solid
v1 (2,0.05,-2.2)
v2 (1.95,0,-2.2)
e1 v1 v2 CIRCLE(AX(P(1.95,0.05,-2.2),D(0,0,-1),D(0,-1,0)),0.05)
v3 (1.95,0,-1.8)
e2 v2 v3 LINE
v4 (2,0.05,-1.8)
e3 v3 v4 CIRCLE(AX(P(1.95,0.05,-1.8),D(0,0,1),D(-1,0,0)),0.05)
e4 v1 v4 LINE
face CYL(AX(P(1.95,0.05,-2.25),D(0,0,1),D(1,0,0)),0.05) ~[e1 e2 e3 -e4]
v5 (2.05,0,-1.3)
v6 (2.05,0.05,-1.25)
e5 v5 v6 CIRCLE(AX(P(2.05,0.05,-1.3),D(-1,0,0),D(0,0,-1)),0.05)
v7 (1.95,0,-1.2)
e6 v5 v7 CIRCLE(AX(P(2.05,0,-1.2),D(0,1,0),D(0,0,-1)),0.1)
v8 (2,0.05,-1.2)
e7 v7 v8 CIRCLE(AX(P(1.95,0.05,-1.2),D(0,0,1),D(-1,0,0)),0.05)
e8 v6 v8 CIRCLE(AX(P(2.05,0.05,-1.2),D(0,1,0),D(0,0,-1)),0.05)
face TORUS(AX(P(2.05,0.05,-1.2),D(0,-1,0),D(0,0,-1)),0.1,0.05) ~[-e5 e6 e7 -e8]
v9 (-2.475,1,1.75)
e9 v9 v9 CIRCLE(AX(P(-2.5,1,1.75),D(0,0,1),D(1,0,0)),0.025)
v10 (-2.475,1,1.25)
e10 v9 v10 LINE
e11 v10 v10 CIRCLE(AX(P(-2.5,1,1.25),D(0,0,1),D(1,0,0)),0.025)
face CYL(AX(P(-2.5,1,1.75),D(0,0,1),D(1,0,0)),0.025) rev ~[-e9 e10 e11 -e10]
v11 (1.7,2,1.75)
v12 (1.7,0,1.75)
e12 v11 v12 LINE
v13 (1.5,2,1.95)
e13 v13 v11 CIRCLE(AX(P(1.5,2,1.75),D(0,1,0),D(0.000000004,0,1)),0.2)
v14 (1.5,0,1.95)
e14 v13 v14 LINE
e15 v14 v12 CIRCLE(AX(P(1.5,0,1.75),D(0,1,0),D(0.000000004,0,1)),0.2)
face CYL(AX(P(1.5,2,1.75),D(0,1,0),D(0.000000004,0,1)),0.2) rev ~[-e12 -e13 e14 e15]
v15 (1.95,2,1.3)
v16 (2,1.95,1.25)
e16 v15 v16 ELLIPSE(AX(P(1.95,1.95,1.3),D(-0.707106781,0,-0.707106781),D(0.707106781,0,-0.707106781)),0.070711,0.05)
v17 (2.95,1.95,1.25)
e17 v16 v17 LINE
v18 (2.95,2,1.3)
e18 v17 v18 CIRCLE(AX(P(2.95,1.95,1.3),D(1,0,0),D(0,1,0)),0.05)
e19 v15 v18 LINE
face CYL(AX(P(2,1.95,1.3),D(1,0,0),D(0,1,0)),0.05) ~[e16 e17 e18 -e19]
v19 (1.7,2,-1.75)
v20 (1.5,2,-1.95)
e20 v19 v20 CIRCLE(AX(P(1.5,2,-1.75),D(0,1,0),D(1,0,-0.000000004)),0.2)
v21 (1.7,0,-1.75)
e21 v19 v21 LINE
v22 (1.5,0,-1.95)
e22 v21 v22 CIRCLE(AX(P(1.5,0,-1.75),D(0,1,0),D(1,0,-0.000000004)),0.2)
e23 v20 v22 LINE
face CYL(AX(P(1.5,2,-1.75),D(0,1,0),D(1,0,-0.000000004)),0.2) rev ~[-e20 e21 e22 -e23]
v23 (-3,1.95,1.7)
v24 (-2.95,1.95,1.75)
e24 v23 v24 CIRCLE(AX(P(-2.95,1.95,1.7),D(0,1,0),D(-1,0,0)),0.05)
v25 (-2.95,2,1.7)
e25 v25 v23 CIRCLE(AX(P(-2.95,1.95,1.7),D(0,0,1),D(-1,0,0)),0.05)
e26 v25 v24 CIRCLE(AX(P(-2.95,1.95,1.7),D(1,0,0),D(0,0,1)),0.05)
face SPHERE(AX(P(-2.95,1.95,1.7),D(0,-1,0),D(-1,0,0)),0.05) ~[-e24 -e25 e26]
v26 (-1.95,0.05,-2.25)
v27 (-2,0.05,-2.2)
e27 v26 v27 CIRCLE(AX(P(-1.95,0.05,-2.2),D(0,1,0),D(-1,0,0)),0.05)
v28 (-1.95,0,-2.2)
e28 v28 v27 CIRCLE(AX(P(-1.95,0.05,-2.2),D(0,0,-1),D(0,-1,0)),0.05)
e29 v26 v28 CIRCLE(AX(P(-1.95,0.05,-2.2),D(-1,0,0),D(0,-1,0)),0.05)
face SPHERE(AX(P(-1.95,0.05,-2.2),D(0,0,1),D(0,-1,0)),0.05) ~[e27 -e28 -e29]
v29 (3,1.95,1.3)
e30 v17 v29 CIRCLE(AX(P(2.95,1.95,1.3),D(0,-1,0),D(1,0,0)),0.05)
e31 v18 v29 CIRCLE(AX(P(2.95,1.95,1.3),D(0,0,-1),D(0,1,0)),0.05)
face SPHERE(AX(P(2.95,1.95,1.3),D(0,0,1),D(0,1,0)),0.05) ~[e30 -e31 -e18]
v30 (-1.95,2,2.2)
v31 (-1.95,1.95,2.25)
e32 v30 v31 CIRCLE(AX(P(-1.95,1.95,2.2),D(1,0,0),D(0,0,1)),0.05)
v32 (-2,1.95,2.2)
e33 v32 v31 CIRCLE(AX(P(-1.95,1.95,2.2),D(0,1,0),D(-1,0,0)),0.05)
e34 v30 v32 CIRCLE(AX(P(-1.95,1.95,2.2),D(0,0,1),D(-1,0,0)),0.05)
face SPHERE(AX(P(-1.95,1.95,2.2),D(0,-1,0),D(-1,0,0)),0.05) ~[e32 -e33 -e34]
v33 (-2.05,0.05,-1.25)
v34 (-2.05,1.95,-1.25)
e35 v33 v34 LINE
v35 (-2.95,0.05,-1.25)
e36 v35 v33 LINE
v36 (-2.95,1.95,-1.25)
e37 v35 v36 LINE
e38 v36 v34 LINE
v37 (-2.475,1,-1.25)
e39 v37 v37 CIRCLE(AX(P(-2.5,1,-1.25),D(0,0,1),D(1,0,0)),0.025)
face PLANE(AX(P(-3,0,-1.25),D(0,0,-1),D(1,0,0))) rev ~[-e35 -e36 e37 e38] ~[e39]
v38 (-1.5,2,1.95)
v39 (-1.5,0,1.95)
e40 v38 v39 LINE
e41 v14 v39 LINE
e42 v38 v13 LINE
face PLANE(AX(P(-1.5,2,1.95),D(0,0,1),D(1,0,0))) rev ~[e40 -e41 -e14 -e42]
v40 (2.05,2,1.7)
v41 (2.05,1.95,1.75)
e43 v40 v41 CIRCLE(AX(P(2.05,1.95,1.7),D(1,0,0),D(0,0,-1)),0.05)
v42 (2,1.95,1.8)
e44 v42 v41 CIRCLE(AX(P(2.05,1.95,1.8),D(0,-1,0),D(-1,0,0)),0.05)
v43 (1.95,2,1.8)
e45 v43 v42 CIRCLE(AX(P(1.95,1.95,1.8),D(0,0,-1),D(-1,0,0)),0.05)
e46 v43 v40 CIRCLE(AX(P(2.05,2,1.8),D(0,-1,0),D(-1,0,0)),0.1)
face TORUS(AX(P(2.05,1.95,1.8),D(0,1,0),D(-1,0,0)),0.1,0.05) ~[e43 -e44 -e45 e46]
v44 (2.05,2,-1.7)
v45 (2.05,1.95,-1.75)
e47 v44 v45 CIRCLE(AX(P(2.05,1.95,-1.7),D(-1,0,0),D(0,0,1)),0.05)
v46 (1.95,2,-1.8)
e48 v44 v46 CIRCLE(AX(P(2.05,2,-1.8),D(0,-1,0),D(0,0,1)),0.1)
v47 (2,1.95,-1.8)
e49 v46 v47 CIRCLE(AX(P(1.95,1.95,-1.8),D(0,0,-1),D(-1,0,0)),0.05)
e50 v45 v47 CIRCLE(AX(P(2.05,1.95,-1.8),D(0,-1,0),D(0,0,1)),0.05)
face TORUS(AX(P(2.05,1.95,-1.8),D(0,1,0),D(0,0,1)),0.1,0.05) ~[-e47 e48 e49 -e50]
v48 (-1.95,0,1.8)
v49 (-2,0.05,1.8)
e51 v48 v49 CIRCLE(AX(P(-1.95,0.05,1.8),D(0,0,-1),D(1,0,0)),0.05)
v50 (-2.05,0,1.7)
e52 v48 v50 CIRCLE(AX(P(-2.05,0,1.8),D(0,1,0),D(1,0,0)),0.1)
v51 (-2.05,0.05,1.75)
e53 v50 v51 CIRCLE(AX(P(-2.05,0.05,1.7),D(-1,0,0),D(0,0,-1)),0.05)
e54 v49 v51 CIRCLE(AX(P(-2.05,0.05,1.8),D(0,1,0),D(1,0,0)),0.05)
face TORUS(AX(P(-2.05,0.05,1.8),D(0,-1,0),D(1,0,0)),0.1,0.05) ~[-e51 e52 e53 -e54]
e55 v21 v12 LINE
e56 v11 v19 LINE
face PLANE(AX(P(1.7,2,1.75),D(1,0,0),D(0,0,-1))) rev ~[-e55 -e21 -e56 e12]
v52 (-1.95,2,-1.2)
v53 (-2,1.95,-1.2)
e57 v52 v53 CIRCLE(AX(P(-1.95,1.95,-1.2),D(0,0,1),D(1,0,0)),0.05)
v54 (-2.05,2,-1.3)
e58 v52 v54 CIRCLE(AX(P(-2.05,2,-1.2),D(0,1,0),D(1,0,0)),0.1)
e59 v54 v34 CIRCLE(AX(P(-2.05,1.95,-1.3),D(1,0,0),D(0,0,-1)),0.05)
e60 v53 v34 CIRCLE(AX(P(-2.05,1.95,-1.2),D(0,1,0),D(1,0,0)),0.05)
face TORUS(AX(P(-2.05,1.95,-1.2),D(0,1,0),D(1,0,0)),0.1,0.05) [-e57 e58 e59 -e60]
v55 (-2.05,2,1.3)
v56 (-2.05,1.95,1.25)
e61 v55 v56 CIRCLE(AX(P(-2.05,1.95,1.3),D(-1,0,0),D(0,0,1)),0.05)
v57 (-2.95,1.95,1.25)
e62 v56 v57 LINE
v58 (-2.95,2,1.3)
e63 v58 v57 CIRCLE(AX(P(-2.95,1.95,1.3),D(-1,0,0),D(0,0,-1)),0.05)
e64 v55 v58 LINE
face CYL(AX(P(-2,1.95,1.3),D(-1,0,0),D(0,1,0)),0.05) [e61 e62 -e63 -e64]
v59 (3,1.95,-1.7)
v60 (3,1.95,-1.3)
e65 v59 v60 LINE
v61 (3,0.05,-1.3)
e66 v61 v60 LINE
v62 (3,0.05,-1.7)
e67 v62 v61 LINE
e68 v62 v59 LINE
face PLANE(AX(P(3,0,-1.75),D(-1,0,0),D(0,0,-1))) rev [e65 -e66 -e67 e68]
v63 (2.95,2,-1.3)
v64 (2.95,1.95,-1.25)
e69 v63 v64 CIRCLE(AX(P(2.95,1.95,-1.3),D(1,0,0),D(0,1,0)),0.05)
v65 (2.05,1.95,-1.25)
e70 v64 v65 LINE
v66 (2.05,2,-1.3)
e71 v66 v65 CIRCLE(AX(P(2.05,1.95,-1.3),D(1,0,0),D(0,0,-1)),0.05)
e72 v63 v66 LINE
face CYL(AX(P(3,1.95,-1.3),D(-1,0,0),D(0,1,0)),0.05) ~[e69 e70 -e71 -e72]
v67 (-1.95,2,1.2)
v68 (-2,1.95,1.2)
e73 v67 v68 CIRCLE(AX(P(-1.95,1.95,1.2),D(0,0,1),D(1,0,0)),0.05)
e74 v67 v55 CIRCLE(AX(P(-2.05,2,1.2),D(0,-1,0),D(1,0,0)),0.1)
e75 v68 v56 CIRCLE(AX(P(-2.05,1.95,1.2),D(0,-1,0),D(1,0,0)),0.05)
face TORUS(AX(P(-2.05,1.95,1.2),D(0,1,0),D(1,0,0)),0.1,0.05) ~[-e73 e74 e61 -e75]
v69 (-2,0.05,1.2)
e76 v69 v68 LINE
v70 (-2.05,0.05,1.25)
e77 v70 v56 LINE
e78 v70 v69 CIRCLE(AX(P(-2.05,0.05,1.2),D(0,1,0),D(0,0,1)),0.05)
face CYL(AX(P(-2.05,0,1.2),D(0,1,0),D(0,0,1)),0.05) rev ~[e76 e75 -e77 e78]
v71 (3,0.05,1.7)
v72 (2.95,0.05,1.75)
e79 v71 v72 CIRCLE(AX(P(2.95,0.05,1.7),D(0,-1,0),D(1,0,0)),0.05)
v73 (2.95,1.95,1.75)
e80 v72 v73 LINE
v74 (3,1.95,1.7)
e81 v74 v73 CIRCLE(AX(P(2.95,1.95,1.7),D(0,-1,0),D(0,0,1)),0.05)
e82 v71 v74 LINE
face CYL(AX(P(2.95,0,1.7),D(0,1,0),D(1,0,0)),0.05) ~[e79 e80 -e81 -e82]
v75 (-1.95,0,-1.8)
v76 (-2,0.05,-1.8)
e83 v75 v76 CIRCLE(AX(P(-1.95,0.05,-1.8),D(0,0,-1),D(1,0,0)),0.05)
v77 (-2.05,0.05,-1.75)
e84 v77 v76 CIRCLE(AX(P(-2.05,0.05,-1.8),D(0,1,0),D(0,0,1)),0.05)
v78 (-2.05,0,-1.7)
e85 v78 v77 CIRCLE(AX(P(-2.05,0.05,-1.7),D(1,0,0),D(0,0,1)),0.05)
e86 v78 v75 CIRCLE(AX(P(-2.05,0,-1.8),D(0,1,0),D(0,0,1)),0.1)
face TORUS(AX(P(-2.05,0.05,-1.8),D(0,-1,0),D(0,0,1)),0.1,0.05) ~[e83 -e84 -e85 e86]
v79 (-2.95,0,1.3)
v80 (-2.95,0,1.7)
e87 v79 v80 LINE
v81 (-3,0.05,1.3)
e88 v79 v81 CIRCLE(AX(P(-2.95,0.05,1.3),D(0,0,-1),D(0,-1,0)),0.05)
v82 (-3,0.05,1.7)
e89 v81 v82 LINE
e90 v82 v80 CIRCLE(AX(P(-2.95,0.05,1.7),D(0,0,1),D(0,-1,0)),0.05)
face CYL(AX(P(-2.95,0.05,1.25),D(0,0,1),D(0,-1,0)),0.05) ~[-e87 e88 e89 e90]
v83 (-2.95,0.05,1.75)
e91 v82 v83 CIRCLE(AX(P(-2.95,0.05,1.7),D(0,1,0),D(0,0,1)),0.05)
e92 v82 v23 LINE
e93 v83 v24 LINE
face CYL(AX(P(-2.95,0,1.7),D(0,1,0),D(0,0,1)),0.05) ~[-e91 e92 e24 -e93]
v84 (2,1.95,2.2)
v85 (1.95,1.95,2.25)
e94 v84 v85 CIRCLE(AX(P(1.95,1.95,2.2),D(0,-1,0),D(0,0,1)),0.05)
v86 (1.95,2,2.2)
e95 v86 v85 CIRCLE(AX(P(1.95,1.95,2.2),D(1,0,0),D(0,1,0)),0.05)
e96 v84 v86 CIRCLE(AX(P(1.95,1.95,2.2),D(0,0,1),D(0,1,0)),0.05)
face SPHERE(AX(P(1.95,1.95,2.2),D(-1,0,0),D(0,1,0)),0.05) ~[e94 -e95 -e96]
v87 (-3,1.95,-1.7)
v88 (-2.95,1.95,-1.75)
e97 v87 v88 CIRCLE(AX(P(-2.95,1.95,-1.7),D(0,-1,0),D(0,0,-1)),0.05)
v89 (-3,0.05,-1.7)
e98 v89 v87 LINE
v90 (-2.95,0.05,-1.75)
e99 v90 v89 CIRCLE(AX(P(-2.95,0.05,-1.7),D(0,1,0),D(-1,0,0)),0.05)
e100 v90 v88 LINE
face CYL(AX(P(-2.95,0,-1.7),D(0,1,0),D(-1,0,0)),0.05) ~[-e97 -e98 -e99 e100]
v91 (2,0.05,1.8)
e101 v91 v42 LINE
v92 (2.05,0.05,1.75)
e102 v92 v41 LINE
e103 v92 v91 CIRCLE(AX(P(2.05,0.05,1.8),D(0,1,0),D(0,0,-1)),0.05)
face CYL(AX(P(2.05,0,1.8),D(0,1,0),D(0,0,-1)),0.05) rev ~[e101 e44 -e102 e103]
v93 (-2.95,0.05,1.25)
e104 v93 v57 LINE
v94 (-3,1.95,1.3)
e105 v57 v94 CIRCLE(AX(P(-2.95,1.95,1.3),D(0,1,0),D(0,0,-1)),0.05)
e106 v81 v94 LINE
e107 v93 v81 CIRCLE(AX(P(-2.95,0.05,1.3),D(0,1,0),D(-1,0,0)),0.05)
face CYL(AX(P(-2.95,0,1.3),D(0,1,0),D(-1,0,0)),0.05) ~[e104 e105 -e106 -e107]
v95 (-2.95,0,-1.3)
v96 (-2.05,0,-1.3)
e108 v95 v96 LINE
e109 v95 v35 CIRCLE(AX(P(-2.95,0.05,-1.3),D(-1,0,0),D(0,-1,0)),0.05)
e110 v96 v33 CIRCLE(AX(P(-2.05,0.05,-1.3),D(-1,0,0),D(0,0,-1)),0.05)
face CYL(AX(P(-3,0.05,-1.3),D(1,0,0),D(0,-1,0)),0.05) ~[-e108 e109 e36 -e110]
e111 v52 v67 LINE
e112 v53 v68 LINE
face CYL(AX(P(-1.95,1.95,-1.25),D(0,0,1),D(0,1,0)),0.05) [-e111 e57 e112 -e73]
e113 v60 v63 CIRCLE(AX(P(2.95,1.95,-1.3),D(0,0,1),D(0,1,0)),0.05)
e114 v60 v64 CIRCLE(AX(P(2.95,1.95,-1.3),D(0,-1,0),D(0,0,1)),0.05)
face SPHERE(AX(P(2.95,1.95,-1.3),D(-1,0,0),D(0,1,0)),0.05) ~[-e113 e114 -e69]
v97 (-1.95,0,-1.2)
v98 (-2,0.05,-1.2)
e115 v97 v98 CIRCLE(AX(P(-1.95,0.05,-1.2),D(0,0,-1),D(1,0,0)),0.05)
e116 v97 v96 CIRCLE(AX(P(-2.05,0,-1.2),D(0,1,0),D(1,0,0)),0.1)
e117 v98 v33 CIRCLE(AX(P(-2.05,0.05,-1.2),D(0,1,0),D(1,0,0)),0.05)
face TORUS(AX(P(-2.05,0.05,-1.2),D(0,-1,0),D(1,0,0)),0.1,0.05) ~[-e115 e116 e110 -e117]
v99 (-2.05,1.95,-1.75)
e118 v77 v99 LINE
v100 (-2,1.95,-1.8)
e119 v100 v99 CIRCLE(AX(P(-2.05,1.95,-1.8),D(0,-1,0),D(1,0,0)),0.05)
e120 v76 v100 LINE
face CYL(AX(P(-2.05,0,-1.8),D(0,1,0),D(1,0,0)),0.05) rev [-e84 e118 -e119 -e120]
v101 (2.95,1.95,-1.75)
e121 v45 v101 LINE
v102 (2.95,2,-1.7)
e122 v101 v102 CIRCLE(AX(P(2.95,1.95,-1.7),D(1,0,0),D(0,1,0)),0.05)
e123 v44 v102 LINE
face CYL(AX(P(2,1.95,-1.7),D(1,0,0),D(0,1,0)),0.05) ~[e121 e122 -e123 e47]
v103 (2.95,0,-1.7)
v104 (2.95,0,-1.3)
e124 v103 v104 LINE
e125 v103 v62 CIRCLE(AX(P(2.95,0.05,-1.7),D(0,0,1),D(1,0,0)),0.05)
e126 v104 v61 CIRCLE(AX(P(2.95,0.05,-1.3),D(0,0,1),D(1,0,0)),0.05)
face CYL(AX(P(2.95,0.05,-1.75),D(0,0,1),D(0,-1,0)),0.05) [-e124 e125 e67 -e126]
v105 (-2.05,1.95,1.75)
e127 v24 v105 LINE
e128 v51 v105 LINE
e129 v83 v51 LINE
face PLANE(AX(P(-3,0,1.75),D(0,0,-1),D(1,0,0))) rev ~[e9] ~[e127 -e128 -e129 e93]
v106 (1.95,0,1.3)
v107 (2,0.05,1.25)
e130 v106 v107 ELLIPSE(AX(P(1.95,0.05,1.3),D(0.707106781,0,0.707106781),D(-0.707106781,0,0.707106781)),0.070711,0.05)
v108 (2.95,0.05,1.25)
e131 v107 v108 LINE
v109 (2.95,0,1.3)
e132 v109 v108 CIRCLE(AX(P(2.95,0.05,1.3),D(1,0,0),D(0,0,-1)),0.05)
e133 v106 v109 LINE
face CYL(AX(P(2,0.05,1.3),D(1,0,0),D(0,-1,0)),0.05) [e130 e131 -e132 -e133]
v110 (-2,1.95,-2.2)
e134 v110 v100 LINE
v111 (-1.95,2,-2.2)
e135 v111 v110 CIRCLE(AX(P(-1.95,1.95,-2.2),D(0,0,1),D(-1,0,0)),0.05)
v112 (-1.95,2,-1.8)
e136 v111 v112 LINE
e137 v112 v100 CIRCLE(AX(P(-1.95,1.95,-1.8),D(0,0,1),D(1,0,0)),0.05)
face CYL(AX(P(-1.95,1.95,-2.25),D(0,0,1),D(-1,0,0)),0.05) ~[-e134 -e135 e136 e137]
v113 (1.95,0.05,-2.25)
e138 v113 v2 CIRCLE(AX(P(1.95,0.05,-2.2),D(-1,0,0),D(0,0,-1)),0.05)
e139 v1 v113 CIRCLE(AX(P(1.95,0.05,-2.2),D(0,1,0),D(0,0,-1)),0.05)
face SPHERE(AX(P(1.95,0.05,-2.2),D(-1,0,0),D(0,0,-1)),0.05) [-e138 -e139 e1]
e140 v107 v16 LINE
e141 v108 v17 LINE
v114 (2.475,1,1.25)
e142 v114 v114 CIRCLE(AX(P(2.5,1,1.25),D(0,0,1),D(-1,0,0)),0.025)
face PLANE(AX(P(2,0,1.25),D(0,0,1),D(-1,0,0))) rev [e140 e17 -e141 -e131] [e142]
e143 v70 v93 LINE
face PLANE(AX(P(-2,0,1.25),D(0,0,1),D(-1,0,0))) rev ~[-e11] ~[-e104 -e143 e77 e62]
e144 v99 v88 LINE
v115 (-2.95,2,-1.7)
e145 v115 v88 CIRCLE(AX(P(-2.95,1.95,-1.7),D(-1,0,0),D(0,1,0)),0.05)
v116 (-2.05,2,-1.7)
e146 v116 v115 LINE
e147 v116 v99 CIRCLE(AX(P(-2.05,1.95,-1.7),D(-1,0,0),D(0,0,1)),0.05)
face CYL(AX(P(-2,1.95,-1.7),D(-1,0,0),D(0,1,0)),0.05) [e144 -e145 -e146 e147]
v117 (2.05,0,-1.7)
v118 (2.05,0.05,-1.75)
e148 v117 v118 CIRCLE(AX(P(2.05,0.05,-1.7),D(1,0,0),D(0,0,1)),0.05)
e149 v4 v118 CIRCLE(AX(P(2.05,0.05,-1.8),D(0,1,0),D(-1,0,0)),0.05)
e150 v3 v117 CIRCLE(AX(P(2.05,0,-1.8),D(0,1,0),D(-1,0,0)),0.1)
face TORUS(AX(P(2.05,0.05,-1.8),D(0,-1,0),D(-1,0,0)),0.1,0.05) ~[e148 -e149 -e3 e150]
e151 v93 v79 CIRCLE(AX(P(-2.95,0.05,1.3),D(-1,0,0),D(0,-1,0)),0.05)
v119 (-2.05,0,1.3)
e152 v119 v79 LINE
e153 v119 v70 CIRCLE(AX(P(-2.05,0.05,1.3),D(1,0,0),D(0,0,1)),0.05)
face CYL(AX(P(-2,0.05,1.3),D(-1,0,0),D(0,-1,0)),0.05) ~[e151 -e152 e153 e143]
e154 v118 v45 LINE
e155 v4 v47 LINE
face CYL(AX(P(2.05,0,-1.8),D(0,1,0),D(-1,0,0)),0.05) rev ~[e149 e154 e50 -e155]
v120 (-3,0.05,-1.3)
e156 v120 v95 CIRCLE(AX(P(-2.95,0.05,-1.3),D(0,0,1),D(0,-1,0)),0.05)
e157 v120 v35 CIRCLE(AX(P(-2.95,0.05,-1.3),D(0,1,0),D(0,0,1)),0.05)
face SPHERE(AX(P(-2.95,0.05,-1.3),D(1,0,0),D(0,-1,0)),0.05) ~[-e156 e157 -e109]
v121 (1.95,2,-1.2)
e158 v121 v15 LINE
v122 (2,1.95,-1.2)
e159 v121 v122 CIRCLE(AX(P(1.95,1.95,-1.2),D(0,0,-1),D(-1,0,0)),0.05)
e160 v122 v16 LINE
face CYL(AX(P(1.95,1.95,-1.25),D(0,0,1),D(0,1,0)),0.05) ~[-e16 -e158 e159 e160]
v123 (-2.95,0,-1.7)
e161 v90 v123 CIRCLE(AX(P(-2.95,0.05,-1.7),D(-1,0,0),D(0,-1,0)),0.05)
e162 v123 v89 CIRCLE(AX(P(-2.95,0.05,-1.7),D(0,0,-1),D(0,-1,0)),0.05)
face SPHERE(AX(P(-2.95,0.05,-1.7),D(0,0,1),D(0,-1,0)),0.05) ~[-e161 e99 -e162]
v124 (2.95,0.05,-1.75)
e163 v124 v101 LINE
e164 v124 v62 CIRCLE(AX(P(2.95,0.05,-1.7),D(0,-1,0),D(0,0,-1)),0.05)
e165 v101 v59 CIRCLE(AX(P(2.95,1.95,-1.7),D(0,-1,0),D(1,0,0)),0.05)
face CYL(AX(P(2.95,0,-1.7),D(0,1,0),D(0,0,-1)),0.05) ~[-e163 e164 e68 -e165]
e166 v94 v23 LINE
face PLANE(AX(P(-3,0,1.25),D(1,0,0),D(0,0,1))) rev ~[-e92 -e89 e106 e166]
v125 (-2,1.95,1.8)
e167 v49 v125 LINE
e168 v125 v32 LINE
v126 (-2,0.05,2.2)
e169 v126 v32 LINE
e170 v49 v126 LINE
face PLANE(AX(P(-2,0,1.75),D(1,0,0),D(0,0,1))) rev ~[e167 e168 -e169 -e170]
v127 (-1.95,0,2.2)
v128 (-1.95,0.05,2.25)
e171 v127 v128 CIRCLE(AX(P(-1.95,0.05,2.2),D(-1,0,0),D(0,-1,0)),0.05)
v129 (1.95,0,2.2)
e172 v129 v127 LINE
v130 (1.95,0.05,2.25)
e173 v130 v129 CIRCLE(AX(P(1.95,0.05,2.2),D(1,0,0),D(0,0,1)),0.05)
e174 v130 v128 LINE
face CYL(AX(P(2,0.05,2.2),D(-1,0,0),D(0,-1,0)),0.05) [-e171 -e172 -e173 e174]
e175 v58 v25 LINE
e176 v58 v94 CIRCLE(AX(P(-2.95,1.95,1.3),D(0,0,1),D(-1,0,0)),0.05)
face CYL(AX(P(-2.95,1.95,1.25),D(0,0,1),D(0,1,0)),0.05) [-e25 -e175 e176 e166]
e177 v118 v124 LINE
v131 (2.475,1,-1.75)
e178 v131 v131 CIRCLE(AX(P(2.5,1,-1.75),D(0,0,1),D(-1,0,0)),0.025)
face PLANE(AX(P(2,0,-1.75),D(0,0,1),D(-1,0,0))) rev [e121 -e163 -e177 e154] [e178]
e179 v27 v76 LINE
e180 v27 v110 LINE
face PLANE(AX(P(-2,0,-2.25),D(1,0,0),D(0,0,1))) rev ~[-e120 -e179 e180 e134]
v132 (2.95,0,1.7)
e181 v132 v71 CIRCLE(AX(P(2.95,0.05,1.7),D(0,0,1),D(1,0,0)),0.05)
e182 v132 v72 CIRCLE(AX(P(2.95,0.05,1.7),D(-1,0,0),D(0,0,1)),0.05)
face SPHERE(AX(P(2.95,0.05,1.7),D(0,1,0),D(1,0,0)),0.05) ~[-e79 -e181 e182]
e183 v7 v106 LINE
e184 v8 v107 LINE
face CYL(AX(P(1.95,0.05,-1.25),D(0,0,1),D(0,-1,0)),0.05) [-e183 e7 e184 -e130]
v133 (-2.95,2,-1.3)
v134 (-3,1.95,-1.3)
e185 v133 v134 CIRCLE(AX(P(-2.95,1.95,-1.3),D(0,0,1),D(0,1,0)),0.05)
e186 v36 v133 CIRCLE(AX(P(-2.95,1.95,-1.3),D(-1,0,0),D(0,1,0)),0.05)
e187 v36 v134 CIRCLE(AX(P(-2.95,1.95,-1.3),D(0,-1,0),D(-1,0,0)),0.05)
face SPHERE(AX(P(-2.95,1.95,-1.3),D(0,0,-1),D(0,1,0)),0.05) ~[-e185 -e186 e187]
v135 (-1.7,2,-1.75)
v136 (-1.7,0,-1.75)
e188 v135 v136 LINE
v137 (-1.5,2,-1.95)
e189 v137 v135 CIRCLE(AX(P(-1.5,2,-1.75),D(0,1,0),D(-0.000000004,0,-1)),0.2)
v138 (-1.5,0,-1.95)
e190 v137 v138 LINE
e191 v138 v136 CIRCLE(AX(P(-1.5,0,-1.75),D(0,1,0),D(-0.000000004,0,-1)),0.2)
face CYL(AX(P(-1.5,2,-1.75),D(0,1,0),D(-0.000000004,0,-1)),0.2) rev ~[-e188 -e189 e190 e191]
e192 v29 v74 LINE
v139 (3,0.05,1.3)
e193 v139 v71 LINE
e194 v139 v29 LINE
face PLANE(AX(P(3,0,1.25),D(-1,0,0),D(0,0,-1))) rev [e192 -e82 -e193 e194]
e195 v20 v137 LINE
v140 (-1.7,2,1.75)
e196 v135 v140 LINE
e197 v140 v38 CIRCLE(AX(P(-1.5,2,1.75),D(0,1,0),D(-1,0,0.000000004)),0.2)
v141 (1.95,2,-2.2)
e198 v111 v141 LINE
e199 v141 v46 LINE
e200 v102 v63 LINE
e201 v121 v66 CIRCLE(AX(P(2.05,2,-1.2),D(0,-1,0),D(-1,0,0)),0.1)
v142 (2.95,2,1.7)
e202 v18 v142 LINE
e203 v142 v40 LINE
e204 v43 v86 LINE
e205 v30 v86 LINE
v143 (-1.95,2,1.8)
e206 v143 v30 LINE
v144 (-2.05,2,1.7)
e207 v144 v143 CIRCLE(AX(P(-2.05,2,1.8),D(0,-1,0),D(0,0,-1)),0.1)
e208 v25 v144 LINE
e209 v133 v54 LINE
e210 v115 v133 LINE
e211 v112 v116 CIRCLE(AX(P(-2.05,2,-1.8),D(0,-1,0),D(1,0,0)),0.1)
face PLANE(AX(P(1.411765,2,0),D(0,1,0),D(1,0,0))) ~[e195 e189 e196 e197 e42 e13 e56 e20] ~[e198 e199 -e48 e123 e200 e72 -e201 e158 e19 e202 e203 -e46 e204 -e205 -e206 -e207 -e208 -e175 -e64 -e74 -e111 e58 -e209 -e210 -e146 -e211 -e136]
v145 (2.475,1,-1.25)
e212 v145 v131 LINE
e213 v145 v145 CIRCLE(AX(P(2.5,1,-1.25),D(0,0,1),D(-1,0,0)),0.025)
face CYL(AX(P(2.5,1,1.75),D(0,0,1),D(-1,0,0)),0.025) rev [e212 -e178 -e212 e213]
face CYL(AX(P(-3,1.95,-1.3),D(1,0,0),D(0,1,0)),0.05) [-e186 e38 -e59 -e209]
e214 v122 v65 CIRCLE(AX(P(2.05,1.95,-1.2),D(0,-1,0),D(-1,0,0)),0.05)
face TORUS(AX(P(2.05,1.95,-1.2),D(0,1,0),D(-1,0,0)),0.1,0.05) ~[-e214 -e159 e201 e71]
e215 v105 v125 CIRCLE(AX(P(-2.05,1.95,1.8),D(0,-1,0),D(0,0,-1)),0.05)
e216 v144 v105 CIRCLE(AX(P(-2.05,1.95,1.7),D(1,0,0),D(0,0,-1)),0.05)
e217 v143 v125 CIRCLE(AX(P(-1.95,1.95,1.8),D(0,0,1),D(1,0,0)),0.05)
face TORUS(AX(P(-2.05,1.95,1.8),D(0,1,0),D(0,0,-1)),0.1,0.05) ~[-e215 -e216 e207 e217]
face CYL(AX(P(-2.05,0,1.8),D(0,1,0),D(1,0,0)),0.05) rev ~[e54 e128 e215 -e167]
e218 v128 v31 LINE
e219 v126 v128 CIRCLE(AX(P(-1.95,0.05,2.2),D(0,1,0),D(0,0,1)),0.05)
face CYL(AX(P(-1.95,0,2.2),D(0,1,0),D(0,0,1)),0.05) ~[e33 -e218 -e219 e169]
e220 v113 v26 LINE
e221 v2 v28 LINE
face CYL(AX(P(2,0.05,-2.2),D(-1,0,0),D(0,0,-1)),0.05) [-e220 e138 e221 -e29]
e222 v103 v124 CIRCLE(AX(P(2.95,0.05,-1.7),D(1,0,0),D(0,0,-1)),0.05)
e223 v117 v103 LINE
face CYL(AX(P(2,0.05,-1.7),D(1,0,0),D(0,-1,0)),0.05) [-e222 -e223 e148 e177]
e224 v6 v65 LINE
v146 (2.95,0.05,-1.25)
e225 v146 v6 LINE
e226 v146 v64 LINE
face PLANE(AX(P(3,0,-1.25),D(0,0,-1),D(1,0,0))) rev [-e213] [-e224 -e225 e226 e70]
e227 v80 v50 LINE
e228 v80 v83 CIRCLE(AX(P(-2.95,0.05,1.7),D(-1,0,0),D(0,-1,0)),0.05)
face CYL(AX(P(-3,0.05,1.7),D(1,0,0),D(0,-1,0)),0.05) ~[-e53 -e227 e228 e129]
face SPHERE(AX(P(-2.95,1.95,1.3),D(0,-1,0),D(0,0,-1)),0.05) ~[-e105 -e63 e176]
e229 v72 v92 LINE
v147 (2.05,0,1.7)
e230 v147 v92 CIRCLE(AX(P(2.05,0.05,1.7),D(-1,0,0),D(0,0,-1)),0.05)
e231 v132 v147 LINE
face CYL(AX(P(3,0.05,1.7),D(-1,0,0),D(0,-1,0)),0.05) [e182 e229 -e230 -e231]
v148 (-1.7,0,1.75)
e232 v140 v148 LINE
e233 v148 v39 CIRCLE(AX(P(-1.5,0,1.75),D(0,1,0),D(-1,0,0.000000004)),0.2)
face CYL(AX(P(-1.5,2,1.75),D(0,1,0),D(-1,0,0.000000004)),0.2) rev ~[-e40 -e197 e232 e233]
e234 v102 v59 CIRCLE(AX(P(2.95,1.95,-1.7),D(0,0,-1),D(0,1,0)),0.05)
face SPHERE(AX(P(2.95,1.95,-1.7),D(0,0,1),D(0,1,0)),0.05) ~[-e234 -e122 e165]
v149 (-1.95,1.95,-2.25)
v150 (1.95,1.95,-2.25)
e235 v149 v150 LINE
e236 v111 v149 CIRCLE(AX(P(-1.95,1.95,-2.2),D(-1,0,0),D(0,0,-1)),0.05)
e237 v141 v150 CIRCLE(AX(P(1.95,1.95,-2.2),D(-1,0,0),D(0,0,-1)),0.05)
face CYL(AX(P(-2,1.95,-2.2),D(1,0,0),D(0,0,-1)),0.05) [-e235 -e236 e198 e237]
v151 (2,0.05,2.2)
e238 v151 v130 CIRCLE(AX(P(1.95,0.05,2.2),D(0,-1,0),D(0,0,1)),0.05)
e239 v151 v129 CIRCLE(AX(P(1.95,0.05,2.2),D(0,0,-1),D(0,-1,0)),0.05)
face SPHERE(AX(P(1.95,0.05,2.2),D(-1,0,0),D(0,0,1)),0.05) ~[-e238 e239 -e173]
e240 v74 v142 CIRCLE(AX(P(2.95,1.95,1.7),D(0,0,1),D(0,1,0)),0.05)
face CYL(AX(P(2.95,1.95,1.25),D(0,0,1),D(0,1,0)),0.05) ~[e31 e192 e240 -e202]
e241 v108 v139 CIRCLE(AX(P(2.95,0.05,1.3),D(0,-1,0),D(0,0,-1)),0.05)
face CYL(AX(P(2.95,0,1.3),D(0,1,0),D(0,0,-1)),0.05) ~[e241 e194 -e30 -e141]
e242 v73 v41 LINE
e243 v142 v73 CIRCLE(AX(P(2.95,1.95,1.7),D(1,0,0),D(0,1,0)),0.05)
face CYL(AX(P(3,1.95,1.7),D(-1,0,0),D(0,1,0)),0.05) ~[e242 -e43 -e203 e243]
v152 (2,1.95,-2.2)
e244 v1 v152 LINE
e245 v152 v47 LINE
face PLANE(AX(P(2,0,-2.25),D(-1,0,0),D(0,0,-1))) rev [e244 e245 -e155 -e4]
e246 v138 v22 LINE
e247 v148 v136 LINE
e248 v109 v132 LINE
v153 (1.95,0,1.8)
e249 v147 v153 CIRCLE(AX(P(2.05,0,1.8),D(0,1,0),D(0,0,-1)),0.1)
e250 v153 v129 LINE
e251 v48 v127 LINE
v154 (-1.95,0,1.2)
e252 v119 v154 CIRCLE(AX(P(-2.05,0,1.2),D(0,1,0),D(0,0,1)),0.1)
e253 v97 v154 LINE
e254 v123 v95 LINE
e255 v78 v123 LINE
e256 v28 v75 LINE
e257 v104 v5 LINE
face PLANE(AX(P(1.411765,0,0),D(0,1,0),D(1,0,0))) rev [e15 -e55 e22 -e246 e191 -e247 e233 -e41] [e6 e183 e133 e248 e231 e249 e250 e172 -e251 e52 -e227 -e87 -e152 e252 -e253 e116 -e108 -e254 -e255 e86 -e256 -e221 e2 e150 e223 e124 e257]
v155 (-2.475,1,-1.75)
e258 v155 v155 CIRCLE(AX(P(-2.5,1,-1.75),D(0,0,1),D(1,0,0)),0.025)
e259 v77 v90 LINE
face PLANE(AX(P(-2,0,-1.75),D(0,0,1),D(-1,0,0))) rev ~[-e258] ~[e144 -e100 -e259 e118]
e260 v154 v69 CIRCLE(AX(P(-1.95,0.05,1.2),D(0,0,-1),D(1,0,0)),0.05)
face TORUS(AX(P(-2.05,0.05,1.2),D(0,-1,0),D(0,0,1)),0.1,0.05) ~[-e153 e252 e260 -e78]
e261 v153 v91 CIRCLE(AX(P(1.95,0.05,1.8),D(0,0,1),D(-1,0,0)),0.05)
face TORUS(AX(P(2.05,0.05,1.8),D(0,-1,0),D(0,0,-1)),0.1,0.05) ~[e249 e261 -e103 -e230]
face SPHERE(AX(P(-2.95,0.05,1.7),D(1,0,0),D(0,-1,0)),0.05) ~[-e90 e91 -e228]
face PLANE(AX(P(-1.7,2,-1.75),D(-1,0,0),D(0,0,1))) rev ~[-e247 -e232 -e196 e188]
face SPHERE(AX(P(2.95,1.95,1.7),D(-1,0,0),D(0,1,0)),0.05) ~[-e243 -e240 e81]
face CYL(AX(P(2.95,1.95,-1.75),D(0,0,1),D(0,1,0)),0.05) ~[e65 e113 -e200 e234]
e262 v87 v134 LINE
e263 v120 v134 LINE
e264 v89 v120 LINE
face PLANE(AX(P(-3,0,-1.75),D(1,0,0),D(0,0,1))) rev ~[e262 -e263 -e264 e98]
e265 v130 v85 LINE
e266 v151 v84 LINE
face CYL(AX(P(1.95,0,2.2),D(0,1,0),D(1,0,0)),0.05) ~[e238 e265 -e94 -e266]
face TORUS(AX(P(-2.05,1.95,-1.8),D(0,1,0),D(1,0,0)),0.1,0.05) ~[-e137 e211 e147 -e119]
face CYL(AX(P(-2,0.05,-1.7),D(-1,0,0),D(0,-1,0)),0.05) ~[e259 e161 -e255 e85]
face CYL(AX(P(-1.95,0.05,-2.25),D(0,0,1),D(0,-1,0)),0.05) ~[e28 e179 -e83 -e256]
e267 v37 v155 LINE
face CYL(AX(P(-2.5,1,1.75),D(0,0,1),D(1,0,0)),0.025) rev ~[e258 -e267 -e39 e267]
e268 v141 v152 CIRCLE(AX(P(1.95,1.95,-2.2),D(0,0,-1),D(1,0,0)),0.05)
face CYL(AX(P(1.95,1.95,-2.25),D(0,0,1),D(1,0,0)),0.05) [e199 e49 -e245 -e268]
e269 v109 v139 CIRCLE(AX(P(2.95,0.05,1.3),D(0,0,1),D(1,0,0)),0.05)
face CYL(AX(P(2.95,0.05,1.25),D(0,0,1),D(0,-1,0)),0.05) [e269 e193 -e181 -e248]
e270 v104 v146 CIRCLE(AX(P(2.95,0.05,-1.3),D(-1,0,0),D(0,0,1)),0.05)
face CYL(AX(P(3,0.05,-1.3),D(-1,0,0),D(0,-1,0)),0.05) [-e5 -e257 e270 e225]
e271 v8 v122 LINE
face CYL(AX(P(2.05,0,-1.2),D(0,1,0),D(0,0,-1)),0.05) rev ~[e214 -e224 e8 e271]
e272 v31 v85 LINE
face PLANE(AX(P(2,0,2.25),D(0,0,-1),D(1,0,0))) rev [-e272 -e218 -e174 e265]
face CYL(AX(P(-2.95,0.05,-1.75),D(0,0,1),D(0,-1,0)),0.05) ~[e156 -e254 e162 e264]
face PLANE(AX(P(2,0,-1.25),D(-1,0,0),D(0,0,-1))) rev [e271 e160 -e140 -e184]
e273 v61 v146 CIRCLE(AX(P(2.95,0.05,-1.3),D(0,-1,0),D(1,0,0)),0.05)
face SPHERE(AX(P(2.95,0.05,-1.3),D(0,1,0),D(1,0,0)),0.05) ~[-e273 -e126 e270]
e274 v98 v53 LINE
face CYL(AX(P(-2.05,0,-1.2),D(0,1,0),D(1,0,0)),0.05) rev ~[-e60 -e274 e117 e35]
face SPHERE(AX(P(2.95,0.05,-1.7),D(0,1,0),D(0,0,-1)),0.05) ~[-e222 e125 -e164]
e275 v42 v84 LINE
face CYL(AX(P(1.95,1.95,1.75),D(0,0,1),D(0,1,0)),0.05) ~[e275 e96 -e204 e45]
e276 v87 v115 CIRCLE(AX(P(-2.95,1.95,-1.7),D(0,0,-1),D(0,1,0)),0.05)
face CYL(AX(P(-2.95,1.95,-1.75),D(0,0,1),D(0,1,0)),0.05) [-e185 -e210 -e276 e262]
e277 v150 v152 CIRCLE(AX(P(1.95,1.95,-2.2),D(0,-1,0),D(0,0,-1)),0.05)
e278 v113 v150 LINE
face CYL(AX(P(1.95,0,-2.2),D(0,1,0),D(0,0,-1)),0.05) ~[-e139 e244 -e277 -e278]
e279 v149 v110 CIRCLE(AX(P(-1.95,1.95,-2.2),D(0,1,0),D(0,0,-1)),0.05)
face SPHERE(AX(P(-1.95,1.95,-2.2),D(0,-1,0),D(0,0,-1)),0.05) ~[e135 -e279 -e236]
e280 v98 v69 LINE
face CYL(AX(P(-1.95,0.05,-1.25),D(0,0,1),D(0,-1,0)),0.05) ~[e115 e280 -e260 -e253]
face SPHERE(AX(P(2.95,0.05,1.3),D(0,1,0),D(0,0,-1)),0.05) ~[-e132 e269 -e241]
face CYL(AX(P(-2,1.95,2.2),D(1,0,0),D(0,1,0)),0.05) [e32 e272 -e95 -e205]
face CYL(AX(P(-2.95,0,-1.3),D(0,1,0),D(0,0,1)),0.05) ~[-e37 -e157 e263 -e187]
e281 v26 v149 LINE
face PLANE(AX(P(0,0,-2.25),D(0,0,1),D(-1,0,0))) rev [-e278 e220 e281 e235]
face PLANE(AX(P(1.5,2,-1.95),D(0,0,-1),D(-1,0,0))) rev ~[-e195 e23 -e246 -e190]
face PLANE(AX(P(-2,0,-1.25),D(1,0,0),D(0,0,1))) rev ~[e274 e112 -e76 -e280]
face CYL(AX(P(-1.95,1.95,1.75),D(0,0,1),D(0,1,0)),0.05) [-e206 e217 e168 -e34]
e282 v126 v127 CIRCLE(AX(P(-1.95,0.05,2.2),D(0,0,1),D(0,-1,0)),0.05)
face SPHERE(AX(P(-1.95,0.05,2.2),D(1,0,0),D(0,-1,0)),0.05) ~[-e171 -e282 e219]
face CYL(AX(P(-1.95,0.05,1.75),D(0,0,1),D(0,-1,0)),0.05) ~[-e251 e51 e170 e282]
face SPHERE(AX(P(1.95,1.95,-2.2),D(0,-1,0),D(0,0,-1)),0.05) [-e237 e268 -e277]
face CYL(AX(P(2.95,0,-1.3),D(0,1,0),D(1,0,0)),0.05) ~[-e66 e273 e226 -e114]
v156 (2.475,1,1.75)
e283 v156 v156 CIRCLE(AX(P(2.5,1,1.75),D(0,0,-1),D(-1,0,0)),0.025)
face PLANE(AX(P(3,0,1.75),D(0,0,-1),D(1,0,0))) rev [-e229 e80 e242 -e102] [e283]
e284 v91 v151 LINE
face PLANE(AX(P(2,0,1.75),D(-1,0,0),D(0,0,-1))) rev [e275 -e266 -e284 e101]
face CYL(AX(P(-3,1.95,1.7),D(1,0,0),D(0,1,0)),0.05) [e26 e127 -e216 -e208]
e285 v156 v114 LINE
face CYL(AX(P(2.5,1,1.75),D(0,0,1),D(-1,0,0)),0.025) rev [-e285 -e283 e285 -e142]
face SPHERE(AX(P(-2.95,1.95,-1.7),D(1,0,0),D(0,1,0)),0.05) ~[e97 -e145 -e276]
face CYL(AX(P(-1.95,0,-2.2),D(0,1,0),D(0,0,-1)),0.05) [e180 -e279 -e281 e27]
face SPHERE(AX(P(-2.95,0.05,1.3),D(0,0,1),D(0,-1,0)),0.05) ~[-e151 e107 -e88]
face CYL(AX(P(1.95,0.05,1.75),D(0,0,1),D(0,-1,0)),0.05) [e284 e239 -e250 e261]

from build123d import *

# Parameters (mm, degrees)
SALIENTE_EXTRUIR1_DEPTH = 2
CROQUIS2_R              = 0.025
CORTAR_EXTRUIR1_DEPTH   = 6.385164807
REDONDEO1_R             = 0.05
CORTAR_EXTRUIR2_DEPTH   = 5.25


with BuildPart() as part:
    # Croquis1 → Saliente-Extruir1 (new body)
    with BuildSketch(Plane(origin=(0, 0, 0), x_dir=(1, 0, 0), z_dir=(0, 1, 0))):
        Polygon((0, -2.25), (0, 2.25), (-2, 2.25), (-2, 1.75), (-3, 1.75), (-3, 1.25), (-2, 1.25), (-2, -1.25), (-3, -1.25), (-3, -1.75), (-2, -1.75), (-2, -2.25), align=None)
    saliente_extruir1 = extrude(amount=SALIENTE_EXTRUIR1_DEPTH)

    # Croquis2 → Cortar-Extruir1 (cut, through all)
    with BuildSketch(Plane.XY.offset(1.75)):
        with Locations((-2.5, 1)):
            Circle(CROQUIS2_R)
    cortar_extruir1 = extrude(amount=-CORTAR_EXTRUIR1_DEPTH, mode=Mode.SUBTRACT)

    # Simetría1: Saliente-Extruir1, Cortar-Extruir1 across plane
    add(saliente_extruir1.mirror(Plane(origin=(0, 0, 0), x_dir=(0, 0, 1), z_dir=(1, 0, 0))))
    add(cortar_extruir1.mirror(Plane(origin=(0, 0, 0), x_dir=(0, 0, 1), z_dir=(1, 0, 0))), mode=Mode.SUBTRACT)

    # Redondeo1
    redondeo1_edges = [part.edges().sort_by_distance(p)[0] for p in [
        (0, 0, 2.25),
        (-2.5, 2, -1.75),
        (-2, 0, 2),
        (-2.5, 0, 1.75),
        (-3, 0, 1.5),
        (-2.5, 0, 1.25),
        (-2, 0, 0),
        (-2.5, 0, -1.25),
        (-3, 0, -1.5),
        (-2.5, 0, -1.75),
        (-2, 0, -2),
        (0, 0, -2.25),
        (-3, 2, -1.5),
        (-2, 1, 2.25),
        (-2.5, 2, -1.25),
        (-2, 1, 1.75),
        (-3, 1, 1.75),
        (-3, 1, 1.25),
        (-2, 1, 1.25),
        (-2, 1, -1.25),
        (-3, 1, -1.25),
        (-3, 1, -1.75),
        (-2, 1, -1.75),
        (-2, 1, -2.25),
        (-2, 2, 0),
        (-2.5, 2, 1.25),
        (-3, 2, 1.5),
        (-2.5, 2, 1.75),
        (-2, 2, 2),
        (0, 2, 2.25),
        (2, 1, -2.25),
        (2, 2, 2),
        (2, 1, 2.25),
        (2.5, 2, 1.75),
        (2, 1, 1.75),
        (3, 2, 1.5),
        (3, 1, 1.75),
        (2.5, 2, 1.25),
        (3, 1, 1.25),
        (2, 2, 0),
        (2.5, 2, -1.25),
        (2, 1, -1.25),
        (3, 2, -1.5),
        (3, 1, -1.25),
        (2.5, 2, -1.75),
        (0, 2, -2.25),
        (3, 1, -1.75),
        (2, 2, -2),
        (2, 1, -1.75),
        (2, 0, -2),
        (2.5, 0, -1.75),
        (3, 0, -1.5),
        (2.5, 0, -1.25),
        (2, 0, 0),
        (2.5, 0, 1.25),
        (3, 0, 1.5),
        (2.5, 0, 1.75),
        (2, 0, 2),
        (-2, 2, -2),
    ]]
    fillet(redondeo1_edges, radius=REDONDEO1_R)

    # Croquis3 → Cortar-Extruir2 (cut, through all)
    with BuildSketch(Plane(origin=(0, 2, 0), x_dir=(1, 0, 0), z_dir=(0, 1, 0))):
        with BuildLine():
            Line((1.5, 1.95), (-1.5, 1.95))
            ThreePointArc((-1.5, 1.95), (-1.641421356, 1.891421356), (-1.7, 1.75))
            Line((-1.7, 1.75), (-1.7, -1.75))
            ThreePointArc((-1.7, -1.75), (-1.641421356, -1.891421356), (-1.5, -1.95))
            Line((-1.5, -1.95), (1.5, -1.95))
            ThreePointArc((1.5, -1.95), (1.641421356, -1.891421356), (1.7, -1.75))
            Line((1.7, -1.75), (1.7, 1.75))
            ThreePointArc((1.7, 1.75), (1.641421356, 1.891421356), (1.5, 1.95))
        make_face()
    extrude(amount=-CORTAR_EXTRUIR2_DEPTH, mode=Mode.SUBTRACT)


solid = part.part
